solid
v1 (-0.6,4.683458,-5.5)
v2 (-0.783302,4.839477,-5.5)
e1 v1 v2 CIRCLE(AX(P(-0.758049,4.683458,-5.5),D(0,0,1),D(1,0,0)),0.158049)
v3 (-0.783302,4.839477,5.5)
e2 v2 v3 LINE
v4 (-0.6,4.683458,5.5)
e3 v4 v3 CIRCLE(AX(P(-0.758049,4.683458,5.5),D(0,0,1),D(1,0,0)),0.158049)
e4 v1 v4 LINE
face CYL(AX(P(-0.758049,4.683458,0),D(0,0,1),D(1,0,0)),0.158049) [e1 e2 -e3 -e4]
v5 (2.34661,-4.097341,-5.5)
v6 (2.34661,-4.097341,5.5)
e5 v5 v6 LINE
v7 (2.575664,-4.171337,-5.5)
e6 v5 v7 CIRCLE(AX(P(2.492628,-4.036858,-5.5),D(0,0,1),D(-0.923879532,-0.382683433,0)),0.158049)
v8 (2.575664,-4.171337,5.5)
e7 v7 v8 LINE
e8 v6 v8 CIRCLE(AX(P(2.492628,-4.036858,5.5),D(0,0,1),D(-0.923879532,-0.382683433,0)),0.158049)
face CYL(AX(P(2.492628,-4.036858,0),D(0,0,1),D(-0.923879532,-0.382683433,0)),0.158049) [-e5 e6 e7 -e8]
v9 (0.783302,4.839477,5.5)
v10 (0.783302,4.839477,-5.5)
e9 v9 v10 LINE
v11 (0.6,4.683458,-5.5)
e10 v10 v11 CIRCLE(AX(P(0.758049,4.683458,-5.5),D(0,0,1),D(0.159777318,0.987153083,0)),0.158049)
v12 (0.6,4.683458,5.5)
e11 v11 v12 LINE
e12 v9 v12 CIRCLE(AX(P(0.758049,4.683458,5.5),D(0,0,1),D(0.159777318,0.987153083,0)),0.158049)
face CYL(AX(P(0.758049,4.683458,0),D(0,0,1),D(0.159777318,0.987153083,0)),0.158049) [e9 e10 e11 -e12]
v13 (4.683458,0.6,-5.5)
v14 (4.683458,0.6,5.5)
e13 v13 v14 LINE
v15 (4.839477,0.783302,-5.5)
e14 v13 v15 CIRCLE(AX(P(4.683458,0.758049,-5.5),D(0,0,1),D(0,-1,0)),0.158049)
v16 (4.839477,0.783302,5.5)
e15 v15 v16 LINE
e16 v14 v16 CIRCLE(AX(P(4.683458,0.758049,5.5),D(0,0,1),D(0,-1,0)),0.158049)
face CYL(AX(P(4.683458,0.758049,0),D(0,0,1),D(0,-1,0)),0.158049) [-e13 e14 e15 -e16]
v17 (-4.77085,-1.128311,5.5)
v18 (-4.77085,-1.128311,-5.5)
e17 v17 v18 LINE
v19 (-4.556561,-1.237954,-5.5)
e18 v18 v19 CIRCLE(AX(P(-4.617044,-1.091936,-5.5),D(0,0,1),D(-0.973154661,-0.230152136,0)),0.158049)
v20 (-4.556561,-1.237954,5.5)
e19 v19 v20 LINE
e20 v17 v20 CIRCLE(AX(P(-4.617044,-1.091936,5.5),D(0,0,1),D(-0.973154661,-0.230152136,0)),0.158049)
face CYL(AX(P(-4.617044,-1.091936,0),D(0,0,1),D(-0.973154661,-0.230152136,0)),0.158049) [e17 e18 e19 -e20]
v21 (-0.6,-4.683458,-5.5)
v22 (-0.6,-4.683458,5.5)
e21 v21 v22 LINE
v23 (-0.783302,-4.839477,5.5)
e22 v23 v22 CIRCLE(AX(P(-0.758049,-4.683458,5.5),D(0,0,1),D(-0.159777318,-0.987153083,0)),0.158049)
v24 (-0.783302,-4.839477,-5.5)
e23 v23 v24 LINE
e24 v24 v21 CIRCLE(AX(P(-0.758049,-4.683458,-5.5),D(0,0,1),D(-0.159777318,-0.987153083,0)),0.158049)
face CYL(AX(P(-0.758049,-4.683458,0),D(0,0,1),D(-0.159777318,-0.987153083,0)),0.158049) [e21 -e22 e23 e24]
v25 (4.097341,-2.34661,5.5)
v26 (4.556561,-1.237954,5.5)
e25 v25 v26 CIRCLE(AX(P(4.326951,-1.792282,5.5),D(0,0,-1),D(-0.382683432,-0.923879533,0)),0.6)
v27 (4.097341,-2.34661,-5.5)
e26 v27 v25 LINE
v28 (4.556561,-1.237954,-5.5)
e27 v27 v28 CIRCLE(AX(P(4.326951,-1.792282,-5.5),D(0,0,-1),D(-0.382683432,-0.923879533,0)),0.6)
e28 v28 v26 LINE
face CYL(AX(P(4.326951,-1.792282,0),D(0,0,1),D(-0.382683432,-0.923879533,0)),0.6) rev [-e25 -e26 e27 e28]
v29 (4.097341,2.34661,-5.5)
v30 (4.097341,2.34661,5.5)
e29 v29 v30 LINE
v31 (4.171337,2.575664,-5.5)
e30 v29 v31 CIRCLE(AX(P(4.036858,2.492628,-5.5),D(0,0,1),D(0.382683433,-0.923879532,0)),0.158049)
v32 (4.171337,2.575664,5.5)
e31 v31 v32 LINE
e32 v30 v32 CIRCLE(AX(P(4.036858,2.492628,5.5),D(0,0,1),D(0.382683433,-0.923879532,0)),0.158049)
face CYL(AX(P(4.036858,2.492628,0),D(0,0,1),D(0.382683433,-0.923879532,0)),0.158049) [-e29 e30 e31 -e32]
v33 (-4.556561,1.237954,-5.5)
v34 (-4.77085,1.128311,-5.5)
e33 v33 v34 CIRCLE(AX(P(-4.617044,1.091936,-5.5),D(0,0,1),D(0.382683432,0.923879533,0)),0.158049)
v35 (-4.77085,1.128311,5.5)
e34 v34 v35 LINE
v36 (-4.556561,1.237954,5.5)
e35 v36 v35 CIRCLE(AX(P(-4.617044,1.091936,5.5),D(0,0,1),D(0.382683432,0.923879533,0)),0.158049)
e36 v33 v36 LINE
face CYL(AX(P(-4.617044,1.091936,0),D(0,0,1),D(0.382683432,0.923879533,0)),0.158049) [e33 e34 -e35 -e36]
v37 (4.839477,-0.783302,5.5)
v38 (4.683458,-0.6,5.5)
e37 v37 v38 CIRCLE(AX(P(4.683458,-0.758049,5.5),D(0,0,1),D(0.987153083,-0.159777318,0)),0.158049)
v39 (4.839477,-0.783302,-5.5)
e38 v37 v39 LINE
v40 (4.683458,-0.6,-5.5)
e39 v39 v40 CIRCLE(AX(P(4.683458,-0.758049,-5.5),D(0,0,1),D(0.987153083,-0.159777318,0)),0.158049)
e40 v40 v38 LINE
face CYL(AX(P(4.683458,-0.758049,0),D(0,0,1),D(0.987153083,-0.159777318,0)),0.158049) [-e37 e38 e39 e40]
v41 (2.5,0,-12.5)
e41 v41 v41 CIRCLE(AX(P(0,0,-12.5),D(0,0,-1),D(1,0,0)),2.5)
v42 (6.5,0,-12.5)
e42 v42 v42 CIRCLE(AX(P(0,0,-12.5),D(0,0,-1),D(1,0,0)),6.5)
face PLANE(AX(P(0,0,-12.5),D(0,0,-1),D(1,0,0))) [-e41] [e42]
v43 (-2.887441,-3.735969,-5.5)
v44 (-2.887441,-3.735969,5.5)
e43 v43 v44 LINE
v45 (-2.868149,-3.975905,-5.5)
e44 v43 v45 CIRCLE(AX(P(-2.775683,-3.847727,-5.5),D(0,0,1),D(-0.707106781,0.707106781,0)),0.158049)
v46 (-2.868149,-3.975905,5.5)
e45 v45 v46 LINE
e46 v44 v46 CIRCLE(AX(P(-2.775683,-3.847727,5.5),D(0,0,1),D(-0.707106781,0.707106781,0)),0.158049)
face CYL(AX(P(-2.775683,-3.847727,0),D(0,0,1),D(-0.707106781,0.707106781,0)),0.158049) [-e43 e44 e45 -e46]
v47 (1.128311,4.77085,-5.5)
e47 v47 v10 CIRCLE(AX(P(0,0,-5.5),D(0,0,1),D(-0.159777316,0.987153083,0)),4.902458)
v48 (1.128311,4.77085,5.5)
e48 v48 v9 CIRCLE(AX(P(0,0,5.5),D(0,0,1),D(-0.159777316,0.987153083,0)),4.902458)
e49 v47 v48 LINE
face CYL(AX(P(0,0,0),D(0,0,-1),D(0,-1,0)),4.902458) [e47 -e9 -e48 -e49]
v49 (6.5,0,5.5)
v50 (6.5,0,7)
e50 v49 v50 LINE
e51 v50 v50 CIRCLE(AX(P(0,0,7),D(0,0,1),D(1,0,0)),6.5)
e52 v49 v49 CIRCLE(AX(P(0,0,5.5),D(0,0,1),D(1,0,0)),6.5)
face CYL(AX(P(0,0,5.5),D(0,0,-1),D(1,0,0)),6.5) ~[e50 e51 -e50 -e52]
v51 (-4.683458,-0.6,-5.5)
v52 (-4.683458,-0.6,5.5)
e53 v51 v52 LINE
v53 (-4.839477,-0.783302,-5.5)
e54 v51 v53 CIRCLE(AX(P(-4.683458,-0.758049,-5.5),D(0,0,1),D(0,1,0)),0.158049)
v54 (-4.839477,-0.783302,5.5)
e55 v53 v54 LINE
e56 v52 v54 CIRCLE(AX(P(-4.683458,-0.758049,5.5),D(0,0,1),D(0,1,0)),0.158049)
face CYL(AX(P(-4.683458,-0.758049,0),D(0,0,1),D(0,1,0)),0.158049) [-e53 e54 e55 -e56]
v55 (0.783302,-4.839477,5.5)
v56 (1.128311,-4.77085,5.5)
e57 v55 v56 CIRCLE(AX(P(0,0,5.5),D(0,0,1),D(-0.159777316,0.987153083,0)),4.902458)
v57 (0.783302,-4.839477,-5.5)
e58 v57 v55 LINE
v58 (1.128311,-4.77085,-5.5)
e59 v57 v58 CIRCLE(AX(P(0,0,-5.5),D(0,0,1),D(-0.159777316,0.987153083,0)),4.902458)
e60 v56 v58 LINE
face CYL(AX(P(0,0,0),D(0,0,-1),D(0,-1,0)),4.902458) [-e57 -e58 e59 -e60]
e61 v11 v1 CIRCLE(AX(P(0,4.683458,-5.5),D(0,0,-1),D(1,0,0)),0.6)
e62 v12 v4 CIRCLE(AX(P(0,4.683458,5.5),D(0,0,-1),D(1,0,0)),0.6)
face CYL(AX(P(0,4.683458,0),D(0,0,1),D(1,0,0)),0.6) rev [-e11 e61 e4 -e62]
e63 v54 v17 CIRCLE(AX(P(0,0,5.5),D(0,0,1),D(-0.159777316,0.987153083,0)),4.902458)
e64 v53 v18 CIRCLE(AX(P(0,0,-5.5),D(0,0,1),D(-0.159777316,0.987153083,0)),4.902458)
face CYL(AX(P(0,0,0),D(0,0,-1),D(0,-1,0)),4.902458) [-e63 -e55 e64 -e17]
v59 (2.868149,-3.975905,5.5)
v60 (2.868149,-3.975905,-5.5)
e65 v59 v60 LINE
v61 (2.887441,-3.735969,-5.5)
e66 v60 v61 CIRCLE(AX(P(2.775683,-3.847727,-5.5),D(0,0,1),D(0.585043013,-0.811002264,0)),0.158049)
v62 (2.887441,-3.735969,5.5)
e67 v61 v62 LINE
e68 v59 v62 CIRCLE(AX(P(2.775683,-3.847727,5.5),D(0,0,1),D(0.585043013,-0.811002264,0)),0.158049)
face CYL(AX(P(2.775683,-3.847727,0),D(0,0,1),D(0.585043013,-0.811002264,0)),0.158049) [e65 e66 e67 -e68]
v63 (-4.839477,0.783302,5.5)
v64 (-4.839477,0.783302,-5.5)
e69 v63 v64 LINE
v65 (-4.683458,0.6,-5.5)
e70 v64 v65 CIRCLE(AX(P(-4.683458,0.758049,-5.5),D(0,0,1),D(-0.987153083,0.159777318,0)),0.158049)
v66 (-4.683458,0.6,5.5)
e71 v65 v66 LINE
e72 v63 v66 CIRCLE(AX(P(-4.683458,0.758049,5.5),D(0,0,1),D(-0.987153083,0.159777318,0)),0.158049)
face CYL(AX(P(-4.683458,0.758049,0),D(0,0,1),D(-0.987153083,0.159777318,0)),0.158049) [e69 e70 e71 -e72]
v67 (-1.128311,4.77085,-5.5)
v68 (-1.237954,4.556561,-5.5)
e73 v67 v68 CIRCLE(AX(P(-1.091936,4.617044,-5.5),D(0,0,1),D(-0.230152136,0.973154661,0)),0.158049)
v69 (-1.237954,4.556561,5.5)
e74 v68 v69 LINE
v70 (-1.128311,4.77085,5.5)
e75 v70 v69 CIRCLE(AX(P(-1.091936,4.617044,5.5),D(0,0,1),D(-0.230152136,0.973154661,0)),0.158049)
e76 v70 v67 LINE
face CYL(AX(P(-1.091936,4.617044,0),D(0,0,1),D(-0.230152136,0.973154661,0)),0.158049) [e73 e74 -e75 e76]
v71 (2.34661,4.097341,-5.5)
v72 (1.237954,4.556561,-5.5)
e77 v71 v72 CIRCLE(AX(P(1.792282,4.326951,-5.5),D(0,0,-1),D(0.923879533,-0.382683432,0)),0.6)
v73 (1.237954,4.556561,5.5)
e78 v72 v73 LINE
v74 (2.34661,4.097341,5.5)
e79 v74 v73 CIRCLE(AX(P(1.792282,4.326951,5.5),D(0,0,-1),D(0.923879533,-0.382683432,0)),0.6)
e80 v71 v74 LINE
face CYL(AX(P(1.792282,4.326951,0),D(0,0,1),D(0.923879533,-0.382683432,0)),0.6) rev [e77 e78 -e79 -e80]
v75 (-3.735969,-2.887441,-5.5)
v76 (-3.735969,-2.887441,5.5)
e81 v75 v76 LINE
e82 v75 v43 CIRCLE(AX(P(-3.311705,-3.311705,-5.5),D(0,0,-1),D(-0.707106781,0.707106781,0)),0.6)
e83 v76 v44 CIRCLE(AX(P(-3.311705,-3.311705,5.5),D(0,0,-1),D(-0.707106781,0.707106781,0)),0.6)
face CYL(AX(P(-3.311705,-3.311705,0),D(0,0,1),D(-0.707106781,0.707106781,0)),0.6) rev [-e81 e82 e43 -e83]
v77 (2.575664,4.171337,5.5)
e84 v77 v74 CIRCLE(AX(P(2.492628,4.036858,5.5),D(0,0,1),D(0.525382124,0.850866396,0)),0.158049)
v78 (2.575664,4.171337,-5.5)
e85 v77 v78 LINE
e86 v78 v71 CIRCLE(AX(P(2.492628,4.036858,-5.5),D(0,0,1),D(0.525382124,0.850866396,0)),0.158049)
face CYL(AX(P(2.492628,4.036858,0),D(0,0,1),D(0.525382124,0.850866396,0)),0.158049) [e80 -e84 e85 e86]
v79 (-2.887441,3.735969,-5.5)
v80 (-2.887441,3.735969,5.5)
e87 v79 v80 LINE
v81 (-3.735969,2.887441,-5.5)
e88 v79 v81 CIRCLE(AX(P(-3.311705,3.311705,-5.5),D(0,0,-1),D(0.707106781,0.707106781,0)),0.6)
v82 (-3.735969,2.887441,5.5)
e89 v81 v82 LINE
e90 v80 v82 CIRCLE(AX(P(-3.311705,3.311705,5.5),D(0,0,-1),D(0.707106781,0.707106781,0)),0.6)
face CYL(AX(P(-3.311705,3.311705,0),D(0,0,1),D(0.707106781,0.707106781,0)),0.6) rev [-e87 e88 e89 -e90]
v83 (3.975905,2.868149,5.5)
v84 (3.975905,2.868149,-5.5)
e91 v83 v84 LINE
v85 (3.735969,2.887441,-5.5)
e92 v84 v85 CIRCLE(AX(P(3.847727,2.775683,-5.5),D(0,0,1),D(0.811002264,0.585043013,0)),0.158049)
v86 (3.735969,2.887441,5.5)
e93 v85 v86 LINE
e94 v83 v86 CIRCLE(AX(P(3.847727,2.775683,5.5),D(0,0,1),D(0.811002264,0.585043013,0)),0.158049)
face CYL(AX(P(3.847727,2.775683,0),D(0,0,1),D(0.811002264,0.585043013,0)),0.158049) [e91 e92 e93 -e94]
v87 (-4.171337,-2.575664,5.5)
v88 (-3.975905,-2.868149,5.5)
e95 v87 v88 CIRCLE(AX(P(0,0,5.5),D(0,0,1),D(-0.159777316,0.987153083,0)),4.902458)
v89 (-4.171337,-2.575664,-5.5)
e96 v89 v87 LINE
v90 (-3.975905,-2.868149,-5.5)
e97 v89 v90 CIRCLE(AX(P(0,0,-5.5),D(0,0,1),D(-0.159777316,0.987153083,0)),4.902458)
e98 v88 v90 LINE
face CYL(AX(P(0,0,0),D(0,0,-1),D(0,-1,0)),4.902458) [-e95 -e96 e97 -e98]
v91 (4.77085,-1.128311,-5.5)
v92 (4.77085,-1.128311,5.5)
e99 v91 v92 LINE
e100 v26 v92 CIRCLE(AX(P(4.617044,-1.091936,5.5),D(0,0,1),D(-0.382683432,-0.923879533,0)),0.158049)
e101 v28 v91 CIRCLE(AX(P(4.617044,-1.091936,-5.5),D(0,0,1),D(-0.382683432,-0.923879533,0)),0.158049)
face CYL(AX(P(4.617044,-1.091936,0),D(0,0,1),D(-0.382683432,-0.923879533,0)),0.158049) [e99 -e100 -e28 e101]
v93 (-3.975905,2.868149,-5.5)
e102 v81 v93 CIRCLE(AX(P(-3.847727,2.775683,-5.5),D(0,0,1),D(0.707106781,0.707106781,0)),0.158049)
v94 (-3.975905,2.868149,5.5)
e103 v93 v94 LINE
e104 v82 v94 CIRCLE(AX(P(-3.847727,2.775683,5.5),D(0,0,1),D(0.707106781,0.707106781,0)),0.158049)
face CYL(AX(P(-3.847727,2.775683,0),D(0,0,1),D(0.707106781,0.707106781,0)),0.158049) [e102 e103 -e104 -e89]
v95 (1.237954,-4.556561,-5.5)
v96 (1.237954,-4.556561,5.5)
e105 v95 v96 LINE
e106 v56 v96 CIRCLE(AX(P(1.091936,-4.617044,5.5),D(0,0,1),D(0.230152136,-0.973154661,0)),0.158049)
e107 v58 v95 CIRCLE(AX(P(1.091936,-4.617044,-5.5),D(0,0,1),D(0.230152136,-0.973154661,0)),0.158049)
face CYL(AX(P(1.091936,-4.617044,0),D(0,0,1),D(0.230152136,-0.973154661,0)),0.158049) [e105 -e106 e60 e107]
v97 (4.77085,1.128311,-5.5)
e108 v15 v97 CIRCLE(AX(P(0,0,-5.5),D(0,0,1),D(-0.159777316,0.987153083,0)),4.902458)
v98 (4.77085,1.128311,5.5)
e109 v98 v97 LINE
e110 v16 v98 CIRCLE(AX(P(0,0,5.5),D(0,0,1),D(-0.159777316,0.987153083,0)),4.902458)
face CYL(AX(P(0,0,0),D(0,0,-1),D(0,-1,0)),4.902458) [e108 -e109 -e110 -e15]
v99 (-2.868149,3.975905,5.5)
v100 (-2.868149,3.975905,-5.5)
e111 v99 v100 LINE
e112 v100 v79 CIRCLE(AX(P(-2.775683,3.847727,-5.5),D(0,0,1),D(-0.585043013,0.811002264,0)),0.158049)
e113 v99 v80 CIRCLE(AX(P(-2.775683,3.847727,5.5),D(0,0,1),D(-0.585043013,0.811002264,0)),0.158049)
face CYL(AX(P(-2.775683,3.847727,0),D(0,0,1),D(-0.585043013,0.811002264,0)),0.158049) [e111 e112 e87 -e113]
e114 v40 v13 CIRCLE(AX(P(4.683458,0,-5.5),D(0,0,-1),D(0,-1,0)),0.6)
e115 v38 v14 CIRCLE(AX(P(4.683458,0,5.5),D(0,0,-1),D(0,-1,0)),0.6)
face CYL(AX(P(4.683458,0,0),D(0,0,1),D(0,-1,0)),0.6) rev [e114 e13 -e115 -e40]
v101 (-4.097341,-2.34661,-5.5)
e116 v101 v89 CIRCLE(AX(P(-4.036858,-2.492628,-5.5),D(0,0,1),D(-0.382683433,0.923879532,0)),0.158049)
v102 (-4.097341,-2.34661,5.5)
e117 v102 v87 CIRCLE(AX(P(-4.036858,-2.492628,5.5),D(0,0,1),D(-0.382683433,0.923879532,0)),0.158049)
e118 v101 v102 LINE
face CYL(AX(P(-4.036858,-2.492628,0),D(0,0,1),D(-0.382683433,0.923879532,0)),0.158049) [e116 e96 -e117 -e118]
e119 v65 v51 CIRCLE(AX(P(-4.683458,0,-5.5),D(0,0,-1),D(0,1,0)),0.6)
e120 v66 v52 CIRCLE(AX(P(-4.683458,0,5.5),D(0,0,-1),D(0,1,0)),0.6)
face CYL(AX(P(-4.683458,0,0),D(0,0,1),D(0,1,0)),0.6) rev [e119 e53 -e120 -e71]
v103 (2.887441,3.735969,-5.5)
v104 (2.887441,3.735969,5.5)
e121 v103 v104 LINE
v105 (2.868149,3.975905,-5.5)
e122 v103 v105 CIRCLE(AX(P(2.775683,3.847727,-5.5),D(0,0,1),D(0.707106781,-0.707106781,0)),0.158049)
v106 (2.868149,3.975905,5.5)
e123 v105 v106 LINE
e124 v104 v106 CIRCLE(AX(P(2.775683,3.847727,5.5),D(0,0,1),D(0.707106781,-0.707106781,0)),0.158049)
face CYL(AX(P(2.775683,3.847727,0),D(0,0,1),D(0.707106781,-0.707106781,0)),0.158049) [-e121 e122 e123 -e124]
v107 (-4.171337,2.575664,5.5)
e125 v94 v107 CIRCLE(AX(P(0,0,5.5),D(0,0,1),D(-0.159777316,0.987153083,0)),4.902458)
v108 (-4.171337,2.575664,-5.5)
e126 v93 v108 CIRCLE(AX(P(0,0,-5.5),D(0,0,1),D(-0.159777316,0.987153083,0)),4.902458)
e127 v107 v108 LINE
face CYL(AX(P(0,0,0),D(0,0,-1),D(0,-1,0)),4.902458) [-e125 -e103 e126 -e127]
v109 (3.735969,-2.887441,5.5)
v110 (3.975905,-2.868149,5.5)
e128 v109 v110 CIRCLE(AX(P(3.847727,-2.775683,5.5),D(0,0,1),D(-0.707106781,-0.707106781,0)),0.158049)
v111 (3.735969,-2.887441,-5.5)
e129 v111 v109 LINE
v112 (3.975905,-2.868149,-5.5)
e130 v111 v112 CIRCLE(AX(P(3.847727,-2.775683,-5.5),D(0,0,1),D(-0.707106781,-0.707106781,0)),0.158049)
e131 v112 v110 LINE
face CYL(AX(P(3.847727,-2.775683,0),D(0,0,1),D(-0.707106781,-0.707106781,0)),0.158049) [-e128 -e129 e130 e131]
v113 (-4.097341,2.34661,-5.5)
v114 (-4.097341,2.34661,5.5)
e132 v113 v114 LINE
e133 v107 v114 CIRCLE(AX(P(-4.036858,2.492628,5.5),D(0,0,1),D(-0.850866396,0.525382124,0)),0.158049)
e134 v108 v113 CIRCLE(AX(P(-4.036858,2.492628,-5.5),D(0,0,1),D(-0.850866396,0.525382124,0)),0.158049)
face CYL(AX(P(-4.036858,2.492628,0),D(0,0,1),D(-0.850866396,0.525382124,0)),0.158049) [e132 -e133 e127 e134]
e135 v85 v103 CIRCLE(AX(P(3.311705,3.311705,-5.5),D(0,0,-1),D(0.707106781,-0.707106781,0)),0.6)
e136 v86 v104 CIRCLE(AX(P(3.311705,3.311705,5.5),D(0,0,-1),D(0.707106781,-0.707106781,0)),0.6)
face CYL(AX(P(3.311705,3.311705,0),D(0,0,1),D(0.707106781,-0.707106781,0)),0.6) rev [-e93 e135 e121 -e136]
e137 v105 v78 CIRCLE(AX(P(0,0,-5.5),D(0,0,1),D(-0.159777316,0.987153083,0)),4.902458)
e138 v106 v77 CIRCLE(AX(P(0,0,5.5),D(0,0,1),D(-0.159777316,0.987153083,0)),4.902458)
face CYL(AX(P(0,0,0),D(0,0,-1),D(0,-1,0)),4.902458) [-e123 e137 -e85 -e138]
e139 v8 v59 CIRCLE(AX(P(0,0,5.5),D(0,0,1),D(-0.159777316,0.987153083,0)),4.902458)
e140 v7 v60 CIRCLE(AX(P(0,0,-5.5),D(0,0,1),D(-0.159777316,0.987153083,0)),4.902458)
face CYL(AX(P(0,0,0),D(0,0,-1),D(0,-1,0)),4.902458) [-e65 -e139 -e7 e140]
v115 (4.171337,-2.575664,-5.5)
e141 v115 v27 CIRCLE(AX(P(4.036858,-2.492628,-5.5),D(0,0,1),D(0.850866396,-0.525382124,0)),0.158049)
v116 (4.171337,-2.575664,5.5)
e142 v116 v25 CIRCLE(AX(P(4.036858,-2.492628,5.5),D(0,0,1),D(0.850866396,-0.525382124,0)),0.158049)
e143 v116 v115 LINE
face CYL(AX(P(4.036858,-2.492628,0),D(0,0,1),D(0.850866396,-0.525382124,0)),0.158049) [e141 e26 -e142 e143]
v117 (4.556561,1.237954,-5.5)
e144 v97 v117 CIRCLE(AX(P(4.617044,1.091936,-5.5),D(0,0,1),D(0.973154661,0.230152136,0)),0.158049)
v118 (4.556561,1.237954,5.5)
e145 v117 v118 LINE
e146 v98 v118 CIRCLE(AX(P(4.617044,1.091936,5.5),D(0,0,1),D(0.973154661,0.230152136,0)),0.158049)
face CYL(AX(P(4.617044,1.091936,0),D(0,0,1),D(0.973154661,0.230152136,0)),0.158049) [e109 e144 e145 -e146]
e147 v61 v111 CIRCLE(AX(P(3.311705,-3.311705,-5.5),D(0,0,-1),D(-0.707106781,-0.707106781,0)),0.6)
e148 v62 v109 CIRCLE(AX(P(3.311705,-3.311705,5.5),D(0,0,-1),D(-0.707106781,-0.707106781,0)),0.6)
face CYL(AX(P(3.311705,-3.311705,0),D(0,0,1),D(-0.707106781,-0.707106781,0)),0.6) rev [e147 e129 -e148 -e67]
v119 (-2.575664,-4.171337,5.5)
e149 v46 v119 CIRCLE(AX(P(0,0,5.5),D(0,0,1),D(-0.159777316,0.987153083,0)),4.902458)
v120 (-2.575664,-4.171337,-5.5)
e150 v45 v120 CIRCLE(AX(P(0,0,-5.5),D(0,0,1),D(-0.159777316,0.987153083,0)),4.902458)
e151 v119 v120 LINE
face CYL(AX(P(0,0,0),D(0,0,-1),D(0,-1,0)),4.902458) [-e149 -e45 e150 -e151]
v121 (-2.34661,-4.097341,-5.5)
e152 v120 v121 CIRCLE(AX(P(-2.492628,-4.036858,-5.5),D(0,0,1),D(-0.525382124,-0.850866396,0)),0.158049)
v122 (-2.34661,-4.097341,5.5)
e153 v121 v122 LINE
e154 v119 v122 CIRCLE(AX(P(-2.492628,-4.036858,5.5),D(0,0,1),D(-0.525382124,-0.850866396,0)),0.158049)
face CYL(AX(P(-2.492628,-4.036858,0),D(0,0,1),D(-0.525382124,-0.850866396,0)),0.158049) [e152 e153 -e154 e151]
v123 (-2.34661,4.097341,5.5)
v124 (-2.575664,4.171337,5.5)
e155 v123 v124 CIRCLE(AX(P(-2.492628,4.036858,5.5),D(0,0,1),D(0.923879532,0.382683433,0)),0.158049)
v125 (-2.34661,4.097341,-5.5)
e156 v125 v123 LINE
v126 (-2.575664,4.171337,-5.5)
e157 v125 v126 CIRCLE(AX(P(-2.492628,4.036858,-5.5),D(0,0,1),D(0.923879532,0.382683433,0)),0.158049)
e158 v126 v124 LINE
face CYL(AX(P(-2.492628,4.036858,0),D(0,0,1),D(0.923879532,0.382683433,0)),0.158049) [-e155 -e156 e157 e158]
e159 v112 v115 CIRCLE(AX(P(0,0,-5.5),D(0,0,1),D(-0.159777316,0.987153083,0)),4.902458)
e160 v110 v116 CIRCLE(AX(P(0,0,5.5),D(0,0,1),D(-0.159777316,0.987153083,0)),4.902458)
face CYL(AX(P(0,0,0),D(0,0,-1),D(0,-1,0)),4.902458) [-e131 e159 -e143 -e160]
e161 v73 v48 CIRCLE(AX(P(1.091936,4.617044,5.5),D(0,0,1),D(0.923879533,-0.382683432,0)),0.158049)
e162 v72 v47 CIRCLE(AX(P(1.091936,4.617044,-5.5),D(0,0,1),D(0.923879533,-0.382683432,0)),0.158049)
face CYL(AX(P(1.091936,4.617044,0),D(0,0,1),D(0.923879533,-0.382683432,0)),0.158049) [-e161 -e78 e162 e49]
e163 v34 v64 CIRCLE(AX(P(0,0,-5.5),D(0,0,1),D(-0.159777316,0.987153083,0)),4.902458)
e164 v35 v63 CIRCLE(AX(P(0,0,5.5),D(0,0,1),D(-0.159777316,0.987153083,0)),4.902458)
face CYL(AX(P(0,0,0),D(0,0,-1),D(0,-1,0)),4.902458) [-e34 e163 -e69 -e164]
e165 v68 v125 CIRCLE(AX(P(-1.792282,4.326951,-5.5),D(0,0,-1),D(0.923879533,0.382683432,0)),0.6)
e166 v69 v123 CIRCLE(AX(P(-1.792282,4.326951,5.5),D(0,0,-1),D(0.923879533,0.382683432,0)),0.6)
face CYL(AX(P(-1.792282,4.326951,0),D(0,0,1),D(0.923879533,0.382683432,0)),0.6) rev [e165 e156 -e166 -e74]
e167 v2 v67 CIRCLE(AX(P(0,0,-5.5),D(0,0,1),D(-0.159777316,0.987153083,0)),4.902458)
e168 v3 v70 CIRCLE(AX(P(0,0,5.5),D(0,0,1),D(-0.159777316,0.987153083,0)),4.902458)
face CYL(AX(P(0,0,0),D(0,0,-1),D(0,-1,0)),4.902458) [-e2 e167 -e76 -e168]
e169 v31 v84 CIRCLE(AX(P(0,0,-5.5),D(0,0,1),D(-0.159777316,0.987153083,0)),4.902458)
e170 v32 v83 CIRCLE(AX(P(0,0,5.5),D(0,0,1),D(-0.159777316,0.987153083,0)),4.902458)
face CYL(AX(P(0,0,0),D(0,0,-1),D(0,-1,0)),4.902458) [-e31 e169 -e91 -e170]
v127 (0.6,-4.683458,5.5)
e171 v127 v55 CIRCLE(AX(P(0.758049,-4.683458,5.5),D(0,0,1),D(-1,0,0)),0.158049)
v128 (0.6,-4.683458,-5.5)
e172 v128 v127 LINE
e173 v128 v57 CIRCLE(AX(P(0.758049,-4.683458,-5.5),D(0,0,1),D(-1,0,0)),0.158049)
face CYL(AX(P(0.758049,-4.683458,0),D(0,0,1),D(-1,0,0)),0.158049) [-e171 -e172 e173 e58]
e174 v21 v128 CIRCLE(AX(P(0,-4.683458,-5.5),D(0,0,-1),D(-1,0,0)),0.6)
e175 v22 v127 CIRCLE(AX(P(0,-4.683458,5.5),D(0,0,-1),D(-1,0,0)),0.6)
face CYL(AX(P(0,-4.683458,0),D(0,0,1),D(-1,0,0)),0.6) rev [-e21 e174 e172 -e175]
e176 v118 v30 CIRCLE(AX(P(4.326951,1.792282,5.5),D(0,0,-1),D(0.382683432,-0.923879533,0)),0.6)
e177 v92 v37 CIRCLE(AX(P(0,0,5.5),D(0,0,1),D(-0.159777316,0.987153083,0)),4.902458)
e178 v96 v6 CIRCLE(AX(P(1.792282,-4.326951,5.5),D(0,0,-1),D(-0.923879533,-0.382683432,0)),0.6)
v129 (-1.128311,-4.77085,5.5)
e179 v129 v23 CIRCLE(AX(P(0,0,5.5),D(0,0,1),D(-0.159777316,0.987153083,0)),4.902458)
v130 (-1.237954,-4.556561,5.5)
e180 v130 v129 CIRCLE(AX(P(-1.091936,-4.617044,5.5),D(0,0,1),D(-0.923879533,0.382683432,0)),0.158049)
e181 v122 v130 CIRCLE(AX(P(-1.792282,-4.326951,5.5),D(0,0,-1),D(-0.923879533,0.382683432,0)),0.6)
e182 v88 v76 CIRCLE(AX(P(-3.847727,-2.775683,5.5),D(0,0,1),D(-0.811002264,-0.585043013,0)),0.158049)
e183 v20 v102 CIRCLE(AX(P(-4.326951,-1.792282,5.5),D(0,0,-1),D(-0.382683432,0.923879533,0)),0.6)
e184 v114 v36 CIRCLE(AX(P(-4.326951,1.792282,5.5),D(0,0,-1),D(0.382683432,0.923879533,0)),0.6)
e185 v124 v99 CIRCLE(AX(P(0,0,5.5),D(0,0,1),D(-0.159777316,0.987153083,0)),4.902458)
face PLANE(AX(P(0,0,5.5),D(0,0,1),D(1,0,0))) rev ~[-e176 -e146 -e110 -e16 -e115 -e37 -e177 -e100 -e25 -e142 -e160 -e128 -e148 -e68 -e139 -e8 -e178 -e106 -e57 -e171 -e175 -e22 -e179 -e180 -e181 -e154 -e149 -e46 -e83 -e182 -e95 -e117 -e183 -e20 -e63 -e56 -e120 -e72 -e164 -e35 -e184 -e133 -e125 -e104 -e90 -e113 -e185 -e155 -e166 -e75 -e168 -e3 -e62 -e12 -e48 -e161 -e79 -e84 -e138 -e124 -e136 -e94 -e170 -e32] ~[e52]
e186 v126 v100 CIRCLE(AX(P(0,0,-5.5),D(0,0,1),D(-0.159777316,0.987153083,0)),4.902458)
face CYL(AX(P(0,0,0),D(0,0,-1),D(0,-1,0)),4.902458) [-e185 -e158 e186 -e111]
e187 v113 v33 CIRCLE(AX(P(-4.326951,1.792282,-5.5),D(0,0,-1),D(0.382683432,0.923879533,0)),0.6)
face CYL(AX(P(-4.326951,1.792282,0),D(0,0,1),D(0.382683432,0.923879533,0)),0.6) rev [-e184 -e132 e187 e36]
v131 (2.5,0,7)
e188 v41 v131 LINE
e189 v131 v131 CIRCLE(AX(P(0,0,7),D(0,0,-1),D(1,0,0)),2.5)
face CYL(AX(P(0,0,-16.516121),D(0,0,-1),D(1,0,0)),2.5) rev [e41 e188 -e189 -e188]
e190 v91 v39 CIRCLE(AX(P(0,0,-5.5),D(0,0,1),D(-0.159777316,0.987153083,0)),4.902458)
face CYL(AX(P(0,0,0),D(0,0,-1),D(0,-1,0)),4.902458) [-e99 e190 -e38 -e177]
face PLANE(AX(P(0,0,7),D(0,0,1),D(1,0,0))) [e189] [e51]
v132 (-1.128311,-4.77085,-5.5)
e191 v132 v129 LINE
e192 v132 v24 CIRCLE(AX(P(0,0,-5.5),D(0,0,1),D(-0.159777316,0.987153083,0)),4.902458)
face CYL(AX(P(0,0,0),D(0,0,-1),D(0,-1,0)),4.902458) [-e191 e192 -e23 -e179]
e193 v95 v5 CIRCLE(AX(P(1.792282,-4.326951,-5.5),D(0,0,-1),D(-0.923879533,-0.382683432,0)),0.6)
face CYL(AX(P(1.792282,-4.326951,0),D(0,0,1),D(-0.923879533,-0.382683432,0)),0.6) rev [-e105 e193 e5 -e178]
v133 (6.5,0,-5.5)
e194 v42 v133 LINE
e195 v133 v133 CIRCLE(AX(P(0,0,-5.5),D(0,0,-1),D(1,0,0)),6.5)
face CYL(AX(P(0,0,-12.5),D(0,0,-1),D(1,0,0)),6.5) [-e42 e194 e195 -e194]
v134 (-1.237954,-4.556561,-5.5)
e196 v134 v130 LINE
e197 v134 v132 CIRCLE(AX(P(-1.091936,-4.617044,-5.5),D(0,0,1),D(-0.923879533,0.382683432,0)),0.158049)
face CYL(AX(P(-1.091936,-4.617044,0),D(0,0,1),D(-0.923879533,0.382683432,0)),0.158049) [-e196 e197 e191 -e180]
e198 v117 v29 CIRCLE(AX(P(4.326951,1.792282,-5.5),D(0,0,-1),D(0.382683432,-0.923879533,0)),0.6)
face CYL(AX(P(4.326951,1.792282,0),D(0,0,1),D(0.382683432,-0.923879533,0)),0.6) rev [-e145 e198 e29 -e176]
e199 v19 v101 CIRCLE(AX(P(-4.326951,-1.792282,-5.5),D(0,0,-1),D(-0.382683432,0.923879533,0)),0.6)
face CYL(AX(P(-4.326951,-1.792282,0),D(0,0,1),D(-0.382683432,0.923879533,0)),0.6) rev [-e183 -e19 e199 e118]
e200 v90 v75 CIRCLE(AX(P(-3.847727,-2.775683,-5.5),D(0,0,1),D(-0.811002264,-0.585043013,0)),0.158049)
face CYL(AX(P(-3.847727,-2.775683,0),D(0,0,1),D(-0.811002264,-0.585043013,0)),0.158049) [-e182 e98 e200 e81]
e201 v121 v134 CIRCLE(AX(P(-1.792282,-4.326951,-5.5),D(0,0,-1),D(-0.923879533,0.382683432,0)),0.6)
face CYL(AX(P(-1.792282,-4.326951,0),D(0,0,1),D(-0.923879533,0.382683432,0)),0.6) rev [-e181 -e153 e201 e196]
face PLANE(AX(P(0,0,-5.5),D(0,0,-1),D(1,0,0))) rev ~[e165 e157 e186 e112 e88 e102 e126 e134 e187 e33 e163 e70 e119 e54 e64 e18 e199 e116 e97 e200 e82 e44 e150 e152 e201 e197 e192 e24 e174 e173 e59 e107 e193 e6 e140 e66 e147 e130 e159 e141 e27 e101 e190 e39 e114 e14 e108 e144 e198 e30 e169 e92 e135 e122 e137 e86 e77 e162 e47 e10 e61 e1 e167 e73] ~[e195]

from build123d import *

# Parameters (mm, degrees)
SKETCHREVOLVEGEARBELT01_W       = 11
SKETCHREVOLVEGEARBELT01_H       = 4.902458105
TOOTHEXTRUDECUTGEARBELT01_DEPTH = 5.5
PATTERNGEARBELT01_COUNT         = 16
SKETCH_5_R                      = 6.5
EXTRUDE_1_DEPTH                 = 1.5
EXTRUDE_START                   = 7
SKETCH_6_R                      = 6.5
EXTRUDE_2_DEPTH                 = 7
CUT_EXTRUDE_2_DEPTH             = 16.516120649
CUT_EXTRUDE_2_DEPTH_BACK        = 16.516120649
SKETCH_7_R                      = 2.5


with BuildPart() as part:
    # SketchRevolveGearBelt01 → GearBelt01 (revolve)
    with BuildSketch(Plane(origin=(0, 0, 0), x_dir=(0, 0, -1), z_dir=(1, 0, 0))):
        with Locations((0, 2.451229053)):
            Rectangle(SKETCHREVOLVEGEARBELT01_W, SKETCHREVOLVEGEARBELT01_H)
    revolve(axis=Axis((0, 0, 5.5), (0, 0, -1)))

    # SketchToothGearBelt01 → ToothExtrudeCutGearBelt01 (cut, symmetric)
    with BuildSketch(Plane.XY):
        with BuildLine():
            Line((-0.783301597, 4.839476633), (0, 7.442458067))
            Line((0, 7.442458067), (0.783301597, 4.839476633))
            ThreePointArc((0.783301597, 4.839476633), (0.655607945, 4.803813062), (0.599999991, 4.683458109))
            ThreePointArc((0.599999991, 4.683458109), (0, 4.083458118), (-0.599999991, 4.683458109))
            ThreePointArc((-0.599999991, 4.683458109), (-0.655607945, 4.803813062), (-0.783301597, 4.839476633))
        make_face()
    toothextrudecutgearbelt01 = extrude(amount=TOOTHEXTRUDECUTGEARBELT01_DEPTH, both=True, mode=Mode.SUBTRACT)

    # PatternGearBelt01: ToothExtrudeCutGearBelt01 ×16 about axis
    patterngearbelt01_axis = Axis((0, 0, 55), (0, 0, -1))
    for i in range(1, PATTERNGEARBELT01_COUNT):
        add(toothextrudecutgearbelt01.rotate(patterngearbelt01_axis, i * 360 / PATTERNGEARBELT01_COUNT), mode=Mode.SUBTRACT)

    # Эскиз5 → Бобышка-Вытянуть1 (add)
    with BuildSketch(Plane.XY.offset(5.5)):
        Circle(SKETCH_5_R)
    extrude(amount=EXTRUDE_1_DEPTH)

    # Эскиз6 → Бобышка-Вытянуть2 (add)
    with BuildSketch(Plane(origin=(0, 0, -5.5), x_dir=(-1, 0, 0), z_dir=(0, 0, -1)).offset(EXTRUDE_START)):
        Circle(SKETCH_6_R)
    extrude(amount=-EXTRUDE_2_DEPTH)

    # Эскиз7 → Вырез-Вытянуть2 (cut, two sides: drawn at the far end of the back side and taken through both)
    with BuildSketch(Plane.XY.offset(-CUT_EXTRUDE_2_DEPTH_BACK)):
        Circle(SKETCH_7_R)
    extrude(amount=CUT_EXTRUDE_2_DEPTH + CUT_EXTRUDE_2_DEPTH_BACK, mode=Mode.SUBTRACT)


solid = part.part
